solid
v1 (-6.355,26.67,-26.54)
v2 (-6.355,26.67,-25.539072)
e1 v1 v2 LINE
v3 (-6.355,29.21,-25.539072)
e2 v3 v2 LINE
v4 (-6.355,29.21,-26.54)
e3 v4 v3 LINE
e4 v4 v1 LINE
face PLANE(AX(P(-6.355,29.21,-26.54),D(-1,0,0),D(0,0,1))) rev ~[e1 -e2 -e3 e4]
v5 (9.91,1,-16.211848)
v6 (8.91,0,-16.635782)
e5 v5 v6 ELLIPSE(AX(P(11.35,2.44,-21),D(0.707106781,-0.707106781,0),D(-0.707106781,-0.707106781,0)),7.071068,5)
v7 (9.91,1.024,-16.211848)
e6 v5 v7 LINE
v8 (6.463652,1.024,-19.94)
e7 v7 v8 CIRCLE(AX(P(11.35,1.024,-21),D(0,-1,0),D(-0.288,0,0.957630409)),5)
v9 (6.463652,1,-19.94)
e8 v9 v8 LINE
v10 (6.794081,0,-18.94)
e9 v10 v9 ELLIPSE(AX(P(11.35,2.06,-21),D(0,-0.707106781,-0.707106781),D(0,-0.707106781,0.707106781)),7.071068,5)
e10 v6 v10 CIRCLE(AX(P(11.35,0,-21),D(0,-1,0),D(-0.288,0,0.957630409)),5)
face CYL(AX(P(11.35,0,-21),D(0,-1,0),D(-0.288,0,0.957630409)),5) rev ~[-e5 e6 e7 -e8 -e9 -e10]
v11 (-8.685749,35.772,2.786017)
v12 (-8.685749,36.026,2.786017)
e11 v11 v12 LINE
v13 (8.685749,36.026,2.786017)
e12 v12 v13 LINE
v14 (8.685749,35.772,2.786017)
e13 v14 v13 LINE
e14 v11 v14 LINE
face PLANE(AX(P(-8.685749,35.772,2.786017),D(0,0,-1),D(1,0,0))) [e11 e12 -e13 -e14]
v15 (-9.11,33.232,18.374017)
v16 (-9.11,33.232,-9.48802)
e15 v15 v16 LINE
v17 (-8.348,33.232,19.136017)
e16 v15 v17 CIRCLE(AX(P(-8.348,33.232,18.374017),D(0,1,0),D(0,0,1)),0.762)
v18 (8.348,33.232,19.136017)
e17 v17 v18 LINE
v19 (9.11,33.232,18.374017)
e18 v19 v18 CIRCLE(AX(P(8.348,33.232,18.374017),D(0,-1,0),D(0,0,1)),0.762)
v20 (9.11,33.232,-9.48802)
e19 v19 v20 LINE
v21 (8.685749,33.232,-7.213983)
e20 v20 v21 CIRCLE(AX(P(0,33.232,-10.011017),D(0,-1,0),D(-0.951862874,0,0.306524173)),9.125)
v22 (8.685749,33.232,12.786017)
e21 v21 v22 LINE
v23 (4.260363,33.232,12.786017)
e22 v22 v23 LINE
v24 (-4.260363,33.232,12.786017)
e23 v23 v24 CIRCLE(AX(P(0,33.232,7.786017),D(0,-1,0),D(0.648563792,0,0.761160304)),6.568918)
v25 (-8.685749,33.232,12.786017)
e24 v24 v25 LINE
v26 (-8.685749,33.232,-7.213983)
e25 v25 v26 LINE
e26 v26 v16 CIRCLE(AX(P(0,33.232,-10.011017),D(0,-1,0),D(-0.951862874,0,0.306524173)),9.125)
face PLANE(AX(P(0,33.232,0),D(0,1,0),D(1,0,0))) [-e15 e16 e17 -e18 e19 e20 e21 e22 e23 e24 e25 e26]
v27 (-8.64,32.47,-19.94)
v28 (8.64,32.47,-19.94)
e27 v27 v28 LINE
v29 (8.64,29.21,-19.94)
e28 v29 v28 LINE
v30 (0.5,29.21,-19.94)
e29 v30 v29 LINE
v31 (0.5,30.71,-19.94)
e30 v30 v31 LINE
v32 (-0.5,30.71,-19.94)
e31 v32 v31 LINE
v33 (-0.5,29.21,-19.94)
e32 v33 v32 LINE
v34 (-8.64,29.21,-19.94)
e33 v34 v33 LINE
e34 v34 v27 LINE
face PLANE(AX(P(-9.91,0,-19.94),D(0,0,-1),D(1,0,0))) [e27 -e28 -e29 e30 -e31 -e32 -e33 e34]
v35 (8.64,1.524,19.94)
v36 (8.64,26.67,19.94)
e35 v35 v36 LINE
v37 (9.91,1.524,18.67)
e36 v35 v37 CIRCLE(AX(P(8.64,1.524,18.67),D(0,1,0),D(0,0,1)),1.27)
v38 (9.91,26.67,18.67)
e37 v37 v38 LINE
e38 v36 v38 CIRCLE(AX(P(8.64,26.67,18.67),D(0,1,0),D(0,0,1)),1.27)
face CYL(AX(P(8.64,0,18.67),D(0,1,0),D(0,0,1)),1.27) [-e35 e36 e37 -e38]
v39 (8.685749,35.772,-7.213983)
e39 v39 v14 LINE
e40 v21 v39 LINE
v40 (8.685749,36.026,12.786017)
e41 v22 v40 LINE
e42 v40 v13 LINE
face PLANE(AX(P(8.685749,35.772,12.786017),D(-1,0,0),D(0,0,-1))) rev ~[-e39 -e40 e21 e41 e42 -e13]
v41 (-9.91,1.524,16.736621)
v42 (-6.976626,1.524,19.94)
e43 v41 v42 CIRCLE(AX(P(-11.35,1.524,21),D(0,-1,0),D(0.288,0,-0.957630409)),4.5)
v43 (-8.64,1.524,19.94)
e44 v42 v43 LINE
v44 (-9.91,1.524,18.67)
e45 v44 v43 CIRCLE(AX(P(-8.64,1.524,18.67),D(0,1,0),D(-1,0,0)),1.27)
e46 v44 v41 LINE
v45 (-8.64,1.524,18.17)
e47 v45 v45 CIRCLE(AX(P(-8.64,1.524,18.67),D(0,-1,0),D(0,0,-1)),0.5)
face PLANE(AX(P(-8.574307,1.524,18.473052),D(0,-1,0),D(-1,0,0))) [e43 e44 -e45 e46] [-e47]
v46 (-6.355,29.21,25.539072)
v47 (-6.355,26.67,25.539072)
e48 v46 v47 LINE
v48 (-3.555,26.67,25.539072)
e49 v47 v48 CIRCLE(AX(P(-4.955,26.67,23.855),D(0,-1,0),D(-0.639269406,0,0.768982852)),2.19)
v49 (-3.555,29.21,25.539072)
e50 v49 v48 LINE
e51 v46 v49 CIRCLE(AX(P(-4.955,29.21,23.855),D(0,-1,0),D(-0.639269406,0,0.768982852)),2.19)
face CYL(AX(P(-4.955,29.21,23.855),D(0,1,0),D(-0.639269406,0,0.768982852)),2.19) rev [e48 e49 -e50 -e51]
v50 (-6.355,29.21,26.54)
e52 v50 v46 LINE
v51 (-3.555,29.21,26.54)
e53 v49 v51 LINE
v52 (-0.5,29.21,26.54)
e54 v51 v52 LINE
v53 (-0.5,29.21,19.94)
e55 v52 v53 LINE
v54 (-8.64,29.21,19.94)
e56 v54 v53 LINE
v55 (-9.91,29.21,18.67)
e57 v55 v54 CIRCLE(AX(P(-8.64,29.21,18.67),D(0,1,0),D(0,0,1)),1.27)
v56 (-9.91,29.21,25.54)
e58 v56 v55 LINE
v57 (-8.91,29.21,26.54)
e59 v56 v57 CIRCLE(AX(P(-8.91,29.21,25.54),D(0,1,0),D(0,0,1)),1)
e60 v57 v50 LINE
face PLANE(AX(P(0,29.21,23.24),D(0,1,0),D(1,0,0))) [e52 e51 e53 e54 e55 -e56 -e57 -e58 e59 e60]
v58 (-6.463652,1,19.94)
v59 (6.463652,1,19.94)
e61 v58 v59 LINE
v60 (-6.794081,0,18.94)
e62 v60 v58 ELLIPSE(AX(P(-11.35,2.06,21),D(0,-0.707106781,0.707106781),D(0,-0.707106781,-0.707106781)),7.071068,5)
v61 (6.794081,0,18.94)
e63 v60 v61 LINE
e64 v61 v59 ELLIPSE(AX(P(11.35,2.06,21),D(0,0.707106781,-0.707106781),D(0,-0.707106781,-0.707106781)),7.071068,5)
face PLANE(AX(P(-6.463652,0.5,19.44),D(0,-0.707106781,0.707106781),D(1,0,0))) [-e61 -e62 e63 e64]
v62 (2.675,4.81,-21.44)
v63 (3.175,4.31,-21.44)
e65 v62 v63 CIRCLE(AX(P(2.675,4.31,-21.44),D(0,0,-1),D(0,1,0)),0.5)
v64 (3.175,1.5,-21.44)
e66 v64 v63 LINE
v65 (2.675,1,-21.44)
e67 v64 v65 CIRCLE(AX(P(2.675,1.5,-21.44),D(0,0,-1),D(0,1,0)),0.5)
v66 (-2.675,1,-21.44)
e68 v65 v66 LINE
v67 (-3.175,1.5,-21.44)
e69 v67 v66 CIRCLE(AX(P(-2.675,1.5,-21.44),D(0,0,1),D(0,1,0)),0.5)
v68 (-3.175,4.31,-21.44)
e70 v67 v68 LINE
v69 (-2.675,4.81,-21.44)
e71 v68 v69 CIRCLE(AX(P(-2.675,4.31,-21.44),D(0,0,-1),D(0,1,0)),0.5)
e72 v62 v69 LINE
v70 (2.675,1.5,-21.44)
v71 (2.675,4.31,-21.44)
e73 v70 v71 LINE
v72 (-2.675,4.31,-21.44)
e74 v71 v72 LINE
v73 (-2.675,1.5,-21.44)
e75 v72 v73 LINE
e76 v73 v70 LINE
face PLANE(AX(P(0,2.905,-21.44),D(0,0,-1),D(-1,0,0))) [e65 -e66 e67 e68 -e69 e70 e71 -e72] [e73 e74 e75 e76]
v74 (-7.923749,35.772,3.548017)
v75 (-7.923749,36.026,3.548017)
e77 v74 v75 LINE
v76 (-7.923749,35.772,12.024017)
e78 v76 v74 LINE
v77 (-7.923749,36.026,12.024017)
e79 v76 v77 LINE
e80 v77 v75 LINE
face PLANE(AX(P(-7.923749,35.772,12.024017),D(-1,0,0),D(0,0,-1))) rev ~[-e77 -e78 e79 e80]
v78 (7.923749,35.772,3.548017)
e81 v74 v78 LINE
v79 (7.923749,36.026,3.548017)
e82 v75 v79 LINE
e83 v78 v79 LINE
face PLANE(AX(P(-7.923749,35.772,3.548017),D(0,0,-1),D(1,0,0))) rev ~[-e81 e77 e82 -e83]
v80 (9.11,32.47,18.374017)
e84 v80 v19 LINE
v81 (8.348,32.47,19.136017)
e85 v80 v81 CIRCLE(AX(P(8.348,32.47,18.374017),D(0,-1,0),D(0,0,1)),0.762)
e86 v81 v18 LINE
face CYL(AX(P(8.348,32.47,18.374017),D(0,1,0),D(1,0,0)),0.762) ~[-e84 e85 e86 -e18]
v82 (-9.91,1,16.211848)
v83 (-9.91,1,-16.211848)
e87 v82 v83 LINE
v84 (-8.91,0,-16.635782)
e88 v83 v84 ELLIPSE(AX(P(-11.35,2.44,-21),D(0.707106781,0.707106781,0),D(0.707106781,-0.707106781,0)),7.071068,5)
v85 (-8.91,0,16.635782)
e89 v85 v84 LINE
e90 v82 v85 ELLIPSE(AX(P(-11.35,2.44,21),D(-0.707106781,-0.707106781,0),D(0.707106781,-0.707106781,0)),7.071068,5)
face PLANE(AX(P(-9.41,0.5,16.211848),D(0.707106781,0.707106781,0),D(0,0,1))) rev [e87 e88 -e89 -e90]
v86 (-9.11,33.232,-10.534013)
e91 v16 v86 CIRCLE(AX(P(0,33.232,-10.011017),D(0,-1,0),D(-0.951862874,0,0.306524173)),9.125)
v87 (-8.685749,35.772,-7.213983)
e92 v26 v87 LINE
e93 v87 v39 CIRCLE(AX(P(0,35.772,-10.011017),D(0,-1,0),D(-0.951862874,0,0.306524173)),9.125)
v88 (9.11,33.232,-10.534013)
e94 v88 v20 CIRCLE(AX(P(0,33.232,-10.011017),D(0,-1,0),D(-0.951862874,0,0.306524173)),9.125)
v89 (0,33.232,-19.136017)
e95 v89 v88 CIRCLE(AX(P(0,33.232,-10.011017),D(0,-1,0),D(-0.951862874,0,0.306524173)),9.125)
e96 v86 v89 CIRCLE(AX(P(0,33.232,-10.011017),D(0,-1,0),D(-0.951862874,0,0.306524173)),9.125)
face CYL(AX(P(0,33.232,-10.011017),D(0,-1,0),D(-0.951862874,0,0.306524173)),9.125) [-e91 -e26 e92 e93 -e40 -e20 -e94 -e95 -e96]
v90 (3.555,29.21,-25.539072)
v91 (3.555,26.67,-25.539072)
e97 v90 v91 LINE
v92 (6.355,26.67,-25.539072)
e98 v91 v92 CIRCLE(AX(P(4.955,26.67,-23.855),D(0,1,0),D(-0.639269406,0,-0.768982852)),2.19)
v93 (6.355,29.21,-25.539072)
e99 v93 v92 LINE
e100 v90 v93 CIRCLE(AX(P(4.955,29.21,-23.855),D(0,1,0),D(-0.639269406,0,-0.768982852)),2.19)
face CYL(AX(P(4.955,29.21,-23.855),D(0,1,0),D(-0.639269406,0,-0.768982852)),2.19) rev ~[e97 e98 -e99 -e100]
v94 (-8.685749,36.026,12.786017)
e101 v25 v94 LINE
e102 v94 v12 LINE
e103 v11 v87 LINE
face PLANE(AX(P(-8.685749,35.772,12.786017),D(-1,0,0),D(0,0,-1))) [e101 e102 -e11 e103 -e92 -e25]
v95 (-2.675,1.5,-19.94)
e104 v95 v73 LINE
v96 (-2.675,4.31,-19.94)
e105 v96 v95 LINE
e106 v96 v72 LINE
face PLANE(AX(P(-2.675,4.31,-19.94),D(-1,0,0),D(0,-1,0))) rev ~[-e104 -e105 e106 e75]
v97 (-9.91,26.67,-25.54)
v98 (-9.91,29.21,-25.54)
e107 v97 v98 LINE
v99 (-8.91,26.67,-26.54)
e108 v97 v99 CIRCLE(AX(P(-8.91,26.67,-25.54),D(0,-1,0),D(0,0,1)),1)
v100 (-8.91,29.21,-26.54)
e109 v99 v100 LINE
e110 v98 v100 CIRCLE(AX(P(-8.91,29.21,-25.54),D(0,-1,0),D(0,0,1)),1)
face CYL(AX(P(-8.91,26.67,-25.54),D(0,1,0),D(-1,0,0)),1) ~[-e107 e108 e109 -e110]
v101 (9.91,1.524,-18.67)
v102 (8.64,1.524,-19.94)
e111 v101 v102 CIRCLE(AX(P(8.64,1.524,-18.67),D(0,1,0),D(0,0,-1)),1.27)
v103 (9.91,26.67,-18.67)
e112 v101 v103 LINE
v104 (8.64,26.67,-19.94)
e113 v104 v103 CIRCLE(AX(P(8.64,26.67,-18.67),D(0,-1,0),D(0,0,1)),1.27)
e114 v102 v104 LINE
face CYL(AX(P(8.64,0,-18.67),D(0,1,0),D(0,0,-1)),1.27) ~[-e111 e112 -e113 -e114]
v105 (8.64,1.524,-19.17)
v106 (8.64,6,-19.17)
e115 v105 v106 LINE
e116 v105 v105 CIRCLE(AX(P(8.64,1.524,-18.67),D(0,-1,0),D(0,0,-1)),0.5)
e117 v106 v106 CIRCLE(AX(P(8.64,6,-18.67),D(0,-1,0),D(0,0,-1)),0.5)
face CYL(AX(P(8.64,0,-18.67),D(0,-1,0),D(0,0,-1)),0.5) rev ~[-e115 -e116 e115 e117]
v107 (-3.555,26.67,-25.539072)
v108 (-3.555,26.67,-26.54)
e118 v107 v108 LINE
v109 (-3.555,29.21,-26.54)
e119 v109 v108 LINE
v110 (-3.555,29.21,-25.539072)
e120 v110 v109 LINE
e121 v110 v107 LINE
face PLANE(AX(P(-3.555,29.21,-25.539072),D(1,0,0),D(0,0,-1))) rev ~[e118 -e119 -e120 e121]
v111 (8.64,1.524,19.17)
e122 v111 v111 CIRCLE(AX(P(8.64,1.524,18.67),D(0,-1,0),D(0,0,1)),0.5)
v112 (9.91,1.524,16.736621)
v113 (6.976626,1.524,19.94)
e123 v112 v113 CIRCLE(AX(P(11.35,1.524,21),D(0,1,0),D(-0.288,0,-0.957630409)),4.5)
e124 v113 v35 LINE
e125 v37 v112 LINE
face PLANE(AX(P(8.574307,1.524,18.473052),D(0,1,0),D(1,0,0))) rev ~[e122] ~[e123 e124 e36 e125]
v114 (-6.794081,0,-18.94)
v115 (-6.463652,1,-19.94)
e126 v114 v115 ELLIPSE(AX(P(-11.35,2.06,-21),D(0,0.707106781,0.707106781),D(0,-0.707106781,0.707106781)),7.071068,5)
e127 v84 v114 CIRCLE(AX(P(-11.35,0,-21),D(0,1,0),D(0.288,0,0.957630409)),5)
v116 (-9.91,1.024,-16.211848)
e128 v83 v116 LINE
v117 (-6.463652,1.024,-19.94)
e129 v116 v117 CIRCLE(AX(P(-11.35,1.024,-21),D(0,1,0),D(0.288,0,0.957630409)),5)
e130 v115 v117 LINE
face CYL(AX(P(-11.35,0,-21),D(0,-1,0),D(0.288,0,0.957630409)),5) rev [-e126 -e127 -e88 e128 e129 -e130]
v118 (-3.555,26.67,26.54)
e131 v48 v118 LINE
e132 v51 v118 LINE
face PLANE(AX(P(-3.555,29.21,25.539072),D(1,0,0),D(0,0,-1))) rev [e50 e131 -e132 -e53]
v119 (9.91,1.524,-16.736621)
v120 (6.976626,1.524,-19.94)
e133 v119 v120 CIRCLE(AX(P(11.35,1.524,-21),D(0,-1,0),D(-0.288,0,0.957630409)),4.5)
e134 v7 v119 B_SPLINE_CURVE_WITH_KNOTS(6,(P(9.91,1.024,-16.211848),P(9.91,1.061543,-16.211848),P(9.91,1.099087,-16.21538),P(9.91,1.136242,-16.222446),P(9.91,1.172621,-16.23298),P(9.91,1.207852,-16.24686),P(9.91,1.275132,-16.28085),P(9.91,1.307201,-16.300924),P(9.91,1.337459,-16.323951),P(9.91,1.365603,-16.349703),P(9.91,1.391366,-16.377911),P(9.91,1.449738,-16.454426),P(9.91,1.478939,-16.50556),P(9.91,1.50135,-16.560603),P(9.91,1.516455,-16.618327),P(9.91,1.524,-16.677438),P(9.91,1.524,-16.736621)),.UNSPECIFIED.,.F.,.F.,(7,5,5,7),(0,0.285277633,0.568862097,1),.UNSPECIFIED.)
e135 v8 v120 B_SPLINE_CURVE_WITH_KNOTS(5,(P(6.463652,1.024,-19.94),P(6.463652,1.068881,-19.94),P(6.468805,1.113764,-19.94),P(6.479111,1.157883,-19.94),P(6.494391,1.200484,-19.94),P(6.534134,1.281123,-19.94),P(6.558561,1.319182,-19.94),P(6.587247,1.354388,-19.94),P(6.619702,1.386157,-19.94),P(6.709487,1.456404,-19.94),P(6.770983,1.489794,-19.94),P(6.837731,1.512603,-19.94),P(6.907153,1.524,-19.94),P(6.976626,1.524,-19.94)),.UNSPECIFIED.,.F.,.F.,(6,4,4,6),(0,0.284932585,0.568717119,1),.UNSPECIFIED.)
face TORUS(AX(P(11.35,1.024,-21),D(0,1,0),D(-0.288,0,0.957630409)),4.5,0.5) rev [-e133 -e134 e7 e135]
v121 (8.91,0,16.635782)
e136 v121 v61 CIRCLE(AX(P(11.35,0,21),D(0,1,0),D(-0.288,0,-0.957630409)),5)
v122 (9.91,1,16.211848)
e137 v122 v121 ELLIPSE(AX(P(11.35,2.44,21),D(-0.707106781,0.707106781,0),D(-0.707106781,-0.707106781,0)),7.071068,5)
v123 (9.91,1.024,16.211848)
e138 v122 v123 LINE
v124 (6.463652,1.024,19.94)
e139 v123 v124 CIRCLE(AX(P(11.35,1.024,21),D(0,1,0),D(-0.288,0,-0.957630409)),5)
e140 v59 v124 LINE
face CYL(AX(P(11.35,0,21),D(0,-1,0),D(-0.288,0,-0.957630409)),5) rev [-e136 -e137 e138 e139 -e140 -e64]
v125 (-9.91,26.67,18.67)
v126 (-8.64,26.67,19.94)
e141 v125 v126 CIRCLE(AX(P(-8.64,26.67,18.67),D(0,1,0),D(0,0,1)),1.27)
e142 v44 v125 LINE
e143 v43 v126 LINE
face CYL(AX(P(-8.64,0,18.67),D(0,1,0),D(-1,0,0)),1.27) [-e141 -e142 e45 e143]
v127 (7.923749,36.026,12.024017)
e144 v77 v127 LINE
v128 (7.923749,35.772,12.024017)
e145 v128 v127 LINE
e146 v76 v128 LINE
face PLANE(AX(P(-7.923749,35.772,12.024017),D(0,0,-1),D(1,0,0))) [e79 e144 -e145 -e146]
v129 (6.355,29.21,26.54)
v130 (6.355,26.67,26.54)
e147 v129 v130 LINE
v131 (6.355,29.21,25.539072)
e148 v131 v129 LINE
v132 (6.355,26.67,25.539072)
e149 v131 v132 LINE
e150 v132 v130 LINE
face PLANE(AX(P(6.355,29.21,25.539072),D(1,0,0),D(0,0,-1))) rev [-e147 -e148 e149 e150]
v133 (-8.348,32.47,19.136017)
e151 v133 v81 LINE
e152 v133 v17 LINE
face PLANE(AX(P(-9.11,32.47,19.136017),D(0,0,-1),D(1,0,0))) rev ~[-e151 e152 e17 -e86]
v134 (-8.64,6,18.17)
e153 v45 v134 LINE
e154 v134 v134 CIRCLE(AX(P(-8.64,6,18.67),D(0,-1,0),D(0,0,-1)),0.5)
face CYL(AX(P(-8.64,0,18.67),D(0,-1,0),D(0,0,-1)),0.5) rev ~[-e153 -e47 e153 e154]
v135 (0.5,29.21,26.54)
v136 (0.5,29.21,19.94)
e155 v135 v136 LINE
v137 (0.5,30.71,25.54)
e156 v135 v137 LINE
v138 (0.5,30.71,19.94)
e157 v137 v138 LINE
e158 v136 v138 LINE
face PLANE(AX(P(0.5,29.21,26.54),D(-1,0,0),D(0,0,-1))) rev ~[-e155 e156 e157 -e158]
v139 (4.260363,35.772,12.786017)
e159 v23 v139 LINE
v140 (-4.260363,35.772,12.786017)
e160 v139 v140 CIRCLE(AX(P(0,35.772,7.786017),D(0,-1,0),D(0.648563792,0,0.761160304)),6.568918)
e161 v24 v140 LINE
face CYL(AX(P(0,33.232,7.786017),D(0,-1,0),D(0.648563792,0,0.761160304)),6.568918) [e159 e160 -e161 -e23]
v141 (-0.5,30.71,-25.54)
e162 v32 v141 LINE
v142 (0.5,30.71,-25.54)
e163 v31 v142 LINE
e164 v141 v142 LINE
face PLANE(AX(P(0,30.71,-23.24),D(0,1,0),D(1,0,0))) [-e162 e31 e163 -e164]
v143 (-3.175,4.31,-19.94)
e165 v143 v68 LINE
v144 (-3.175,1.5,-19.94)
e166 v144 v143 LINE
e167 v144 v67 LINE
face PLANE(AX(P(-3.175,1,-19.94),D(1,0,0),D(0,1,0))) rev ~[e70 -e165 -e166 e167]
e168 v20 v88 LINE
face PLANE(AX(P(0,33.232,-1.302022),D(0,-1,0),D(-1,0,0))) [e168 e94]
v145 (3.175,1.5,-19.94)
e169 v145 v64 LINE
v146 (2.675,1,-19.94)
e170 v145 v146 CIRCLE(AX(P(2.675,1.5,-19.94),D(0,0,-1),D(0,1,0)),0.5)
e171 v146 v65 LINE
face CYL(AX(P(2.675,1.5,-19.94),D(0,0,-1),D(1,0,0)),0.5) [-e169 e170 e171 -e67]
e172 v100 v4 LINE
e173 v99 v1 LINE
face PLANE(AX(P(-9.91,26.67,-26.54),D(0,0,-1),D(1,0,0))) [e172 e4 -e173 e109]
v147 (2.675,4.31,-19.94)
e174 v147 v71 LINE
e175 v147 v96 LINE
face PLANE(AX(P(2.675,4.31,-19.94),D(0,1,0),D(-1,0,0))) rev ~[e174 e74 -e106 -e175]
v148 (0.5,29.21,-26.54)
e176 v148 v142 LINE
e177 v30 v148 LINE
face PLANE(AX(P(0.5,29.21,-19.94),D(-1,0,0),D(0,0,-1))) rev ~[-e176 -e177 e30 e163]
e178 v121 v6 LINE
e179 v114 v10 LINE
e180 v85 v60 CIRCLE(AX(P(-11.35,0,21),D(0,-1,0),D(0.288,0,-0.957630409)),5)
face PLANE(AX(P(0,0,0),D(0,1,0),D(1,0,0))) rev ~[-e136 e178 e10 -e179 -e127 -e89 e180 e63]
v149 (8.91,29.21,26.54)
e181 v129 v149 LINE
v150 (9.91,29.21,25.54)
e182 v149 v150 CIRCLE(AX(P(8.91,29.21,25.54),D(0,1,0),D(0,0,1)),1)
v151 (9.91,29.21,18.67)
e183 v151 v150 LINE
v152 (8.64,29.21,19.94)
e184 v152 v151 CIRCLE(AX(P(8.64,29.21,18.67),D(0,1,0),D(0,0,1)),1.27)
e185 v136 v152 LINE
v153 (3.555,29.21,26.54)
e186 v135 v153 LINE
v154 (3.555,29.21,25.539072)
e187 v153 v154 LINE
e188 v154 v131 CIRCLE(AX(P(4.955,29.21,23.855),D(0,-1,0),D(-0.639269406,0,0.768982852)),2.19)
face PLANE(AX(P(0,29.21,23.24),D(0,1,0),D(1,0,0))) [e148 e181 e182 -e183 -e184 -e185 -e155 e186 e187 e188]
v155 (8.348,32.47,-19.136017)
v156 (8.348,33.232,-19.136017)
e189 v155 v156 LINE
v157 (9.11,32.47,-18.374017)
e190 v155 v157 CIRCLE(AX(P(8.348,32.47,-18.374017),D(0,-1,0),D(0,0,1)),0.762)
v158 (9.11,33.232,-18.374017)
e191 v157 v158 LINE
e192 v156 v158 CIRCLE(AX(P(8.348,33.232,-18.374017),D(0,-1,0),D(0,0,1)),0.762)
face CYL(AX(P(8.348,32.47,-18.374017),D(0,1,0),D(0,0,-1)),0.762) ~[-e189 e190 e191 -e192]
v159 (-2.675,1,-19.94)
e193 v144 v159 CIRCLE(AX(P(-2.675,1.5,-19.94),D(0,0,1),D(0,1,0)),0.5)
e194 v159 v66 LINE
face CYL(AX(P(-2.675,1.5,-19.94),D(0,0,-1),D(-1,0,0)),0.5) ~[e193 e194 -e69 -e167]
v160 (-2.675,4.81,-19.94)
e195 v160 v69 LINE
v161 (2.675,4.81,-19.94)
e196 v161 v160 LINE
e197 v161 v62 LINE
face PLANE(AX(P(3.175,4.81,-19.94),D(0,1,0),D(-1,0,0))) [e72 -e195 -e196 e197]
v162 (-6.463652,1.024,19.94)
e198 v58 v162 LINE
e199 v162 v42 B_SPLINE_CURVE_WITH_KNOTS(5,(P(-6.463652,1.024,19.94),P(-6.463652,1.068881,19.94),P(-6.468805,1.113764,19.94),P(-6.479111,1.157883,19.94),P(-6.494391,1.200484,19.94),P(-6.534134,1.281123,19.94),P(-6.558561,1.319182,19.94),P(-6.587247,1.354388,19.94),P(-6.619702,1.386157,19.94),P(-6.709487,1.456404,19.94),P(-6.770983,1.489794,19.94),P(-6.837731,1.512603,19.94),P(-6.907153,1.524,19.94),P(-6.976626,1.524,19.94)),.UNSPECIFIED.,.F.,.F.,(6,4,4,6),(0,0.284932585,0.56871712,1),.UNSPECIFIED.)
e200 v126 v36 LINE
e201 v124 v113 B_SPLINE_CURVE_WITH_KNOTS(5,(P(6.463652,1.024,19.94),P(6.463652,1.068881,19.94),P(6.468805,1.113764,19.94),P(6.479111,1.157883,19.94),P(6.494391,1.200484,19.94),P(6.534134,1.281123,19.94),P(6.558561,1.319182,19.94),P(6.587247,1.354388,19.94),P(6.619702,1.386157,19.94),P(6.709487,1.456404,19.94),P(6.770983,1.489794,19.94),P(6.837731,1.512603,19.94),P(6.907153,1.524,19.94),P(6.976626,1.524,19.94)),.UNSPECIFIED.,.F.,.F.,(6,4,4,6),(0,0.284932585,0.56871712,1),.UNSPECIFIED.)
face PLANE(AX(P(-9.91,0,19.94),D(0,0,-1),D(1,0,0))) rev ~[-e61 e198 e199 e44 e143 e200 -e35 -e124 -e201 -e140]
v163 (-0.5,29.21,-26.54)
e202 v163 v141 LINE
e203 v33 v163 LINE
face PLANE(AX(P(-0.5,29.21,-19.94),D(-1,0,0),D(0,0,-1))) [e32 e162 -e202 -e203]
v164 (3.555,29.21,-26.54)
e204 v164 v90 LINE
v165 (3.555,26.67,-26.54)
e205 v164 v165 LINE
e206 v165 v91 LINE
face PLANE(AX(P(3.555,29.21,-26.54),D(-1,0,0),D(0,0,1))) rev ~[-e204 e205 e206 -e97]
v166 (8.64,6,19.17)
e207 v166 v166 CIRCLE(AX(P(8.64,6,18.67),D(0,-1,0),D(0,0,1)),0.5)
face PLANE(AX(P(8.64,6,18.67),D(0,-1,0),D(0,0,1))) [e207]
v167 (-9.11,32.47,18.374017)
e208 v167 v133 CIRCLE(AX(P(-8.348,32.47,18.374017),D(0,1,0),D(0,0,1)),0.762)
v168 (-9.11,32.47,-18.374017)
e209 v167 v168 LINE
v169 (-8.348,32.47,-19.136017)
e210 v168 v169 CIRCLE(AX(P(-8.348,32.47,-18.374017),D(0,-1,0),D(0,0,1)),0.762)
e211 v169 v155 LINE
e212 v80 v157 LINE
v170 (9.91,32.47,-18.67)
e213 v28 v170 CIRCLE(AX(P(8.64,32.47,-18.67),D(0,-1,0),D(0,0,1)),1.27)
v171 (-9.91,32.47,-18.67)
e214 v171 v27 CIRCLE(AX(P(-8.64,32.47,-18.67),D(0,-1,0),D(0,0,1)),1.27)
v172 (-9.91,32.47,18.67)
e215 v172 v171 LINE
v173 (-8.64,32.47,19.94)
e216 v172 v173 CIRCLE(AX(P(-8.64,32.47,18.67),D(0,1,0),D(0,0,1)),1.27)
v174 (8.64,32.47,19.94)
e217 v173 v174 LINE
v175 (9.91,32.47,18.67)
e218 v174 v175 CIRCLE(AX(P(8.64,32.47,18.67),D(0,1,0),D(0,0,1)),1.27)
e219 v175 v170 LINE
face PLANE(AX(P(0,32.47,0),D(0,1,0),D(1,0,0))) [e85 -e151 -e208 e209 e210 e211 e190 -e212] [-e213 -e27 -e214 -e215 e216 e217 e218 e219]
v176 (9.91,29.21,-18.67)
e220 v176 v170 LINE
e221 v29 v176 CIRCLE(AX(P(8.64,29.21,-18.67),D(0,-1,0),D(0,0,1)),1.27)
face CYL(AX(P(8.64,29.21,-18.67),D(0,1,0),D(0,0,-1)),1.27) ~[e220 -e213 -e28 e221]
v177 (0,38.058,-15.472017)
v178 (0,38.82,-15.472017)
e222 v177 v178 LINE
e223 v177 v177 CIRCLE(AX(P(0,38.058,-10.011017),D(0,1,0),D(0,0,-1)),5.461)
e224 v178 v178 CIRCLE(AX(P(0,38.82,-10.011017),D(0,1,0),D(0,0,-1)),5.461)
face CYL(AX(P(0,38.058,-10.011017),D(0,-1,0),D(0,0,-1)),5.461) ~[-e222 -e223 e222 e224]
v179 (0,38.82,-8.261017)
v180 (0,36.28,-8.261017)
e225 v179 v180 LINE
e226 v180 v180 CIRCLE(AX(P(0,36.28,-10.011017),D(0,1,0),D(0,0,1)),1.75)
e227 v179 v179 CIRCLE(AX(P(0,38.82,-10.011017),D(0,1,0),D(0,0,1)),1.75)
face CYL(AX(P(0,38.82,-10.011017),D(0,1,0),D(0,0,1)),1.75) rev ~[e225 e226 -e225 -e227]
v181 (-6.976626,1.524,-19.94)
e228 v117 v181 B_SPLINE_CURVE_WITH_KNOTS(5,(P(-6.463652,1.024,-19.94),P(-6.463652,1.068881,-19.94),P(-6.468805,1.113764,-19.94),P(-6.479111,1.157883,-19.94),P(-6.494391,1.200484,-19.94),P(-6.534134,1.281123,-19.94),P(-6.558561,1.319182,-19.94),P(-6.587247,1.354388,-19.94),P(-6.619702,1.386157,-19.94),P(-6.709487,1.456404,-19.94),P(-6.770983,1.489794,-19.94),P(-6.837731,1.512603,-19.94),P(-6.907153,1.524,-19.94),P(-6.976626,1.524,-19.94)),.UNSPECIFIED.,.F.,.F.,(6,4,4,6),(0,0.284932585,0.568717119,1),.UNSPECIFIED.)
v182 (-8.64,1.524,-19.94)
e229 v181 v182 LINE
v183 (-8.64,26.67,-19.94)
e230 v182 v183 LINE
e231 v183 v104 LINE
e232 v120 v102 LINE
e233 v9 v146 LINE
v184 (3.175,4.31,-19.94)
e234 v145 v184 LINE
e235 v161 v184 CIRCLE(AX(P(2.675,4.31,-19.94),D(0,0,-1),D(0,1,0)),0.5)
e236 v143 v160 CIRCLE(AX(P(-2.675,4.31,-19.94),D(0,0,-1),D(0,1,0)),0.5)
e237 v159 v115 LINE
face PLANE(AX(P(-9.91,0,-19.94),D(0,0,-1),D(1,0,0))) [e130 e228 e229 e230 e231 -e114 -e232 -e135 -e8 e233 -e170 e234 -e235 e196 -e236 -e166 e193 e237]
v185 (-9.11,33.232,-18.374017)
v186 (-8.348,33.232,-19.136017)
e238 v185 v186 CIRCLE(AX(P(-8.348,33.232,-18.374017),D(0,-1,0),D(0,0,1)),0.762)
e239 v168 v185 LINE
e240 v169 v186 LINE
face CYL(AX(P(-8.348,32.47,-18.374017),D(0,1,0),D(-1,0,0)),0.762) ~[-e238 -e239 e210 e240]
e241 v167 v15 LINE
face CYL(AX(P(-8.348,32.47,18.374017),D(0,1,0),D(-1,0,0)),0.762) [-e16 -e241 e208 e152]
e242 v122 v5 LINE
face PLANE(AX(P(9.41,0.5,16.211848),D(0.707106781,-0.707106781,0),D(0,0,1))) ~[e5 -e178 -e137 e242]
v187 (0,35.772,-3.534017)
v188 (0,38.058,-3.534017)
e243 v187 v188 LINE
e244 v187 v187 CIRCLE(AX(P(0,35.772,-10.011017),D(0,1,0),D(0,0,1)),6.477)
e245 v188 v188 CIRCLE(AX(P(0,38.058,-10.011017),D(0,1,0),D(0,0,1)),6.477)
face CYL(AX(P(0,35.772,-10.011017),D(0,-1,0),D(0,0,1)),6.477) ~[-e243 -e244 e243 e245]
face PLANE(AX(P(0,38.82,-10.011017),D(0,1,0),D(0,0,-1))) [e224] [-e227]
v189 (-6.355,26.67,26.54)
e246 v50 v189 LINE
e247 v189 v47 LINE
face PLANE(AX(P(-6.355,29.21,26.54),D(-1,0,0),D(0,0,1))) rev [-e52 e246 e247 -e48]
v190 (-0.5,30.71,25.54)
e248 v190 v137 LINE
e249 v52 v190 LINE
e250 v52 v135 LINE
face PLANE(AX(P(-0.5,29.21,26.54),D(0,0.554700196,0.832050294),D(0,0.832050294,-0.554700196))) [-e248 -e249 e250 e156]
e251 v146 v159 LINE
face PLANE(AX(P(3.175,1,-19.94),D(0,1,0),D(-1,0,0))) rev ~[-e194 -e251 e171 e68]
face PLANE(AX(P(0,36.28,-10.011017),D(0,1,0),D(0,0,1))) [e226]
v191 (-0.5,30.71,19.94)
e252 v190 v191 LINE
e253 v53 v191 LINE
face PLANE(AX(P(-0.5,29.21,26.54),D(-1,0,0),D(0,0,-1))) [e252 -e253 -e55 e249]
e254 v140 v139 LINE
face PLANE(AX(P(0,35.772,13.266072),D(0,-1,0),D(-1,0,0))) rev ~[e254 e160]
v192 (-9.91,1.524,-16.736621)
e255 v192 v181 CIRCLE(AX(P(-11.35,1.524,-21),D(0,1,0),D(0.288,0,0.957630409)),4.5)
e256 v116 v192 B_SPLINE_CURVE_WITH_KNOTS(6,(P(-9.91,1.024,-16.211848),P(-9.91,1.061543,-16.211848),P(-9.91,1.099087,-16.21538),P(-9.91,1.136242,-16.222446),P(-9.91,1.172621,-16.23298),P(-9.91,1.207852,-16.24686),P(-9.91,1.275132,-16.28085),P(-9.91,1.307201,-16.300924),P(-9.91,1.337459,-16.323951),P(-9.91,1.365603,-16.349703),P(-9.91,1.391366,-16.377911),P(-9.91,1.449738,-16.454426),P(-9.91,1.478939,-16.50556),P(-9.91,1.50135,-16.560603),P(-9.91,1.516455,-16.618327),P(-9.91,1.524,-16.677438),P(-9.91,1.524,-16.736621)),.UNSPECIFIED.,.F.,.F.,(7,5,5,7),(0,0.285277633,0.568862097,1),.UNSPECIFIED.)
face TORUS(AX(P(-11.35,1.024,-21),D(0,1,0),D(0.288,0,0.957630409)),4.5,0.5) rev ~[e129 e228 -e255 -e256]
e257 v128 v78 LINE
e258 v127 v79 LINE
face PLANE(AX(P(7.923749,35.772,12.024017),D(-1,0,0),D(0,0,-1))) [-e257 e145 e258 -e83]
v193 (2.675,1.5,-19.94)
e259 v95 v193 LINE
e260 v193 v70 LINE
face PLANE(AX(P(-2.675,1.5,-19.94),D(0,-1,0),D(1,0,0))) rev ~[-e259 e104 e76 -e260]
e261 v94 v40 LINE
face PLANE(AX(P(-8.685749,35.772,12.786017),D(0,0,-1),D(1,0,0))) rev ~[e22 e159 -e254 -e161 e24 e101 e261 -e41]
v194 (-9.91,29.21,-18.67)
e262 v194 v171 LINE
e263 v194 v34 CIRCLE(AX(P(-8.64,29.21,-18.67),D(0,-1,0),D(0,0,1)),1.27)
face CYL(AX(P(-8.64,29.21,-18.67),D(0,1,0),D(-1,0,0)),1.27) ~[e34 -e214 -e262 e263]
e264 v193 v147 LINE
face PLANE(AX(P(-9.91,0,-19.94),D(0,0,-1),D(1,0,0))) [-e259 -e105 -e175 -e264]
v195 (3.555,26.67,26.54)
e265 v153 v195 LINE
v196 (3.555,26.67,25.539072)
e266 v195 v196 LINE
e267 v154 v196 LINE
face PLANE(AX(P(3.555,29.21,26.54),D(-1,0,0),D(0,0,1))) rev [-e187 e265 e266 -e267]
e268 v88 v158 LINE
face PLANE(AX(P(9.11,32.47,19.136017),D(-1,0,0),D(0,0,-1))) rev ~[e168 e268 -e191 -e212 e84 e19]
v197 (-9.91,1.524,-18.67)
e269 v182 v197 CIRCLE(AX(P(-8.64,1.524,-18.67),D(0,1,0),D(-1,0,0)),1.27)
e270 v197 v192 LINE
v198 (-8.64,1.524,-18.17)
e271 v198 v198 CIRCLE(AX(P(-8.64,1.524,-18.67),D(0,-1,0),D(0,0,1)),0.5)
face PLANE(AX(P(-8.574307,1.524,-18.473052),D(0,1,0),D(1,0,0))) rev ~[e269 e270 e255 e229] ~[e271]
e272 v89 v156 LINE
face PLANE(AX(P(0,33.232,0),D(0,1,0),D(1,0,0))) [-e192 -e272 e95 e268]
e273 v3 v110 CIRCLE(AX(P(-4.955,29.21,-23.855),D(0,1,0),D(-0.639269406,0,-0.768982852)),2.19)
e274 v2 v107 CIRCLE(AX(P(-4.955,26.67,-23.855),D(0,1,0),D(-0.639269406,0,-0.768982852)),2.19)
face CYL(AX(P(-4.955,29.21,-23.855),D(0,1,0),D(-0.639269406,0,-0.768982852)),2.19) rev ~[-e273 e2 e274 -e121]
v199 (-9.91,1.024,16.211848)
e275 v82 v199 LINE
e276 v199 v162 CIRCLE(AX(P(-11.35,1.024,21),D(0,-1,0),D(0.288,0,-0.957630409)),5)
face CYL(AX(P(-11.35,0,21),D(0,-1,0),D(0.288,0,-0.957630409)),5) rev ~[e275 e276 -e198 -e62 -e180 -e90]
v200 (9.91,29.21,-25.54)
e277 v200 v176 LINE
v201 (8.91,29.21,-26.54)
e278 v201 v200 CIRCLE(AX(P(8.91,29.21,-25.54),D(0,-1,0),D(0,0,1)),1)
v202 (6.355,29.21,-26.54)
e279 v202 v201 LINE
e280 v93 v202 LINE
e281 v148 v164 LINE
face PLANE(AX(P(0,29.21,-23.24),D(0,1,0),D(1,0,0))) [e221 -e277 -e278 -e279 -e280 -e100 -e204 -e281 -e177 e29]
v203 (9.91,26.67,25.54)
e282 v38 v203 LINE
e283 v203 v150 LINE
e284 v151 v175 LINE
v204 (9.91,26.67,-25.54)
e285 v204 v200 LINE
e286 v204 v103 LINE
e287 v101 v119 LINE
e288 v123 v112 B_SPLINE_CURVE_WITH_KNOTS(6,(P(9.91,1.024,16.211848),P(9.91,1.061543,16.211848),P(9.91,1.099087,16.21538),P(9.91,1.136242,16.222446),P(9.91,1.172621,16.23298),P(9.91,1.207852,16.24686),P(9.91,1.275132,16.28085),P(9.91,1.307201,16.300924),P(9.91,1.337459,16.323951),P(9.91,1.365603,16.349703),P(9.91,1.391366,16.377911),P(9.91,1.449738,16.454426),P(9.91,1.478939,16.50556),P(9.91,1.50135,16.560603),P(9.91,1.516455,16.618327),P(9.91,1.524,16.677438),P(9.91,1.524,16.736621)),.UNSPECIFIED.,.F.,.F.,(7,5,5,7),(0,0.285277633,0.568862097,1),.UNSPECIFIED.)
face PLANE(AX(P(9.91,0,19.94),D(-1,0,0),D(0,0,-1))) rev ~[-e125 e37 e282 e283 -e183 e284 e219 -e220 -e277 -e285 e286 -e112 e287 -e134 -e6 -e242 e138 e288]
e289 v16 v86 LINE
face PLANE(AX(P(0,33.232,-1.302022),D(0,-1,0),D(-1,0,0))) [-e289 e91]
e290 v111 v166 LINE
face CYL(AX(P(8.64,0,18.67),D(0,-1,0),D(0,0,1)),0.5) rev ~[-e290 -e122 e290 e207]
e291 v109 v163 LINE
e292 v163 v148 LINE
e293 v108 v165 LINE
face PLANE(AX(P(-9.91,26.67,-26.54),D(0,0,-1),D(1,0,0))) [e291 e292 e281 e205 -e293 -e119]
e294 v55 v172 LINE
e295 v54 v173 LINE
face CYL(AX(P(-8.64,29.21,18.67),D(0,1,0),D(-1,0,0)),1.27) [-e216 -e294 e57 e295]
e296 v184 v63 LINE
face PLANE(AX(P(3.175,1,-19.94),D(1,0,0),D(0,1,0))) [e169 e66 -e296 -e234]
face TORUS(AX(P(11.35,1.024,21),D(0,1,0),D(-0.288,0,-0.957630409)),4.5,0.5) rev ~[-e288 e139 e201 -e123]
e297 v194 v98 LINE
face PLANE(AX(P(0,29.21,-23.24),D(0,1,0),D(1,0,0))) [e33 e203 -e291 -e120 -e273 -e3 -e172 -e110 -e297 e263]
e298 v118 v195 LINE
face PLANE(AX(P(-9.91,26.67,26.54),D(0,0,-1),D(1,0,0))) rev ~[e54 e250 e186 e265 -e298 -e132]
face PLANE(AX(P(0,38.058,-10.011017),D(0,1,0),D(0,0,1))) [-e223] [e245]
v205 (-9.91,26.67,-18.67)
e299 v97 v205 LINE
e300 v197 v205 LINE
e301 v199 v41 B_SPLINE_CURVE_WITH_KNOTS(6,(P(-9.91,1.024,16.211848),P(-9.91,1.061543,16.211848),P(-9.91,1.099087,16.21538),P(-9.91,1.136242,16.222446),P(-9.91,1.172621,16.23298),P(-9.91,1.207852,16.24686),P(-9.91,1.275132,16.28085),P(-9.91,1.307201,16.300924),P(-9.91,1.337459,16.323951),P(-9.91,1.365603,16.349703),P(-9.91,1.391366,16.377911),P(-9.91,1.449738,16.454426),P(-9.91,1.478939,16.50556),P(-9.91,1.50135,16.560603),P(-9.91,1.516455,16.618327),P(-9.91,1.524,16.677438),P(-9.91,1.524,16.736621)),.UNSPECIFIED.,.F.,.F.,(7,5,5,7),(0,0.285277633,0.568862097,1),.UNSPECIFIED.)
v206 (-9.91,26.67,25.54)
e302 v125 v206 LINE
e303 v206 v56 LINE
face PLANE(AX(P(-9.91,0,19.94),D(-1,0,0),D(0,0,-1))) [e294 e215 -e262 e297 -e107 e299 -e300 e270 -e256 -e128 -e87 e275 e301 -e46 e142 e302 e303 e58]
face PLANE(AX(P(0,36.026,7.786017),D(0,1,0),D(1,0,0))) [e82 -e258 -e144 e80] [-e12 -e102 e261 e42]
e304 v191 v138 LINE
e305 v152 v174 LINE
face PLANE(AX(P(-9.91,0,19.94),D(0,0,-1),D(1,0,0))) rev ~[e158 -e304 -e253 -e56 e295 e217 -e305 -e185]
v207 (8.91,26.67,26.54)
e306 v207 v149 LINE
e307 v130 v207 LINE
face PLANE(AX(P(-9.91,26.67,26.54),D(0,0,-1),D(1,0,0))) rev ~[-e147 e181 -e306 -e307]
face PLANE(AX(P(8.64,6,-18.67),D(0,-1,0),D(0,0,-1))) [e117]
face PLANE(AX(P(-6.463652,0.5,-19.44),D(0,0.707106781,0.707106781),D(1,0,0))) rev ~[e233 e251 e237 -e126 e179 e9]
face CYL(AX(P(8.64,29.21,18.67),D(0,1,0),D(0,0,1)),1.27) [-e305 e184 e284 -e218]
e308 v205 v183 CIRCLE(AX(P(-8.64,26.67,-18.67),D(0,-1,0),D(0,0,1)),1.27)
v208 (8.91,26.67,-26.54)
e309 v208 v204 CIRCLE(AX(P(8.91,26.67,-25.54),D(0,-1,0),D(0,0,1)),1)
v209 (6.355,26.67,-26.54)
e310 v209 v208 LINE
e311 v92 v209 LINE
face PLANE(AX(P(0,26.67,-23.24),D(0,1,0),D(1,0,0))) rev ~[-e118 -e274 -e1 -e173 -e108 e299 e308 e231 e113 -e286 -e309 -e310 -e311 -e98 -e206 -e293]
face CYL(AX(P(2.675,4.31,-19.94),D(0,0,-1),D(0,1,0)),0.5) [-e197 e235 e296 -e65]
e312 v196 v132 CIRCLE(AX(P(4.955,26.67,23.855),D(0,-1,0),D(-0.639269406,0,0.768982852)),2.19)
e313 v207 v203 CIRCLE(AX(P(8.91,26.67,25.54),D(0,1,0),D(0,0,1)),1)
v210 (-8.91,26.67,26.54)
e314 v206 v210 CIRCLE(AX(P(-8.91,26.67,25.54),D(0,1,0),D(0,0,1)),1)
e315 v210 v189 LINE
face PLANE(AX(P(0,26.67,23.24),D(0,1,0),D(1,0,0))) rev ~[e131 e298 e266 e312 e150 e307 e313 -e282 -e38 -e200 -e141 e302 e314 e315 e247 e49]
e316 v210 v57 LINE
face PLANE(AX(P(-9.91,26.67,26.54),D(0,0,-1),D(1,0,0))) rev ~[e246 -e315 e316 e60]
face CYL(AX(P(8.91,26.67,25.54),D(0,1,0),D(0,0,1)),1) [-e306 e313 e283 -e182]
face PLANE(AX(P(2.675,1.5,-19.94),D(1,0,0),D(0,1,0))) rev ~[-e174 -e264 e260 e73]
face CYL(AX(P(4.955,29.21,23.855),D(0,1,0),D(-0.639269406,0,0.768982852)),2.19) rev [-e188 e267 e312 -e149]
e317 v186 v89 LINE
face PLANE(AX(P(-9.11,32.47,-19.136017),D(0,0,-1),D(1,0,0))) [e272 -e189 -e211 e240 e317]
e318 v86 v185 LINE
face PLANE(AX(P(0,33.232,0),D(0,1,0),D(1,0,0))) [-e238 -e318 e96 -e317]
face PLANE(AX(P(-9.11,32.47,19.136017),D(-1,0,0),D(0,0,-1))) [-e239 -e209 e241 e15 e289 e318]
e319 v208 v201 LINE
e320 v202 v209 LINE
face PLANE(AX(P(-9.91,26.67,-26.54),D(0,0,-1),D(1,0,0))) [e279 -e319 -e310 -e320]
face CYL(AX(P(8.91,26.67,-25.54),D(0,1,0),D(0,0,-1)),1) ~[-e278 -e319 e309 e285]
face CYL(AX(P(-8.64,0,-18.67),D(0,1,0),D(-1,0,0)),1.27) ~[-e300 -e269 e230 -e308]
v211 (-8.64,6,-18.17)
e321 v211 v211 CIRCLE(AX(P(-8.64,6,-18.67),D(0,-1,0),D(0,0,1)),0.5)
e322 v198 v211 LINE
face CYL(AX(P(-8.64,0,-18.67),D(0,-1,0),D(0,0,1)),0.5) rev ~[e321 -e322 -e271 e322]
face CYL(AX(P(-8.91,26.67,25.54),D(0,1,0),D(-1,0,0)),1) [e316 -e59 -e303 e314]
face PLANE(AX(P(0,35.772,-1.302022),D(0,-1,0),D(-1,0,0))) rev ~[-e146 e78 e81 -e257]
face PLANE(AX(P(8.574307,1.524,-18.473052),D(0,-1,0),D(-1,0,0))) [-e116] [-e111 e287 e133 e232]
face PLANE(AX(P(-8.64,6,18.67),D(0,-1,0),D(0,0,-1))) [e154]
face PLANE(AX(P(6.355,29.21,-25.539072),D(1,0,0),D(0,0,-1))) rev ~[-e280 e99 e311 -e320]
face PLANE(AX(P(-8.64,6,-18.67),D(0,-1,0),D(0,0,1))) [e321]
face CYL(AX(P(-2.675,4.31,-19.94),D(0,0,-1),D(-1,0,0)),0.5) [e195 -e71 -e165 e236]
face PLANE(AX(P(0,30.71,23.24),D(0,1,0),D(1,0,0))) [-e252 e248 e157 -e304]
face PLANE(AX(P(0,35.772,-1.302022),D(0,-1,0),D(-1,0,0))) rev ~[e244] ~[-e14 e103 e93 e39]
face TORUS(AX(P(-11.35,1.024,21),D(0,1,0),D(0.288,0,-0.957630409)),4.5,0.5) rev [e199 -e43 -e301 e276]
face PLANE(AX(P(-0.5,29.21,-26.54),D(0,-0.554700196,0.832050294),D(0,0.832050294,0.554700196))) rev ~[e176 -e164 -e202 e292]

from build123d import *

# Parameters (mm, degrees)
SKETCH1_W            = 19.82
SKETCH1_H            = 39.88
BOSS_EXTRUDE1_DEPTH  = 36.02
SKETCH2_W            = 19.82
SKETCH2_H            = 6.6
BOSS_EXTRUDE2_DEPTH  = 2.54
CUT_EXTRUDE1_DEPTH   = 2.54
SKETCH4_W            = 1
SKETCH4_H            = 6.6
BOSS_EXTRUDE3_DEPTH  = 1.5
CUT_EXTRUDE2_DEPTH   = 1
SKETCH6_W            = 19.82
SKETCH6_H            = 39.88
CUT_EXTRUDE3_DEPTH   = 3.55
SKETCH7_W            = 18.22
SKETCH7_H            = 38.272033082
BOSS_EXTRUDE4_DEPTH  = 0.762
FILLET1_R            = 1.27
FILLET2_R            = 0.762
BOSS_EXTRUDE5_DEPTH  = 2.54
SKETCH10_R           = 6.477
BOSS_EXTRUDE6_DEPTH  = 2.286
SKETCH11_R           = 5.461
BOSS_EXTRUDE7_DEPTH  = 0.762
SKETCH12_R           = 1.75
CUT_EXTRUDE4_DEPTH   = 2.54
SKETCH13_W           = 17.371497452
SKETCH13_H           = 10
SKETCH13_W_2         = 15.847497452
SKETCH13_H_2         = 8.476
BOSS_EXTRUDE8_DEPTH  = 0.254
BOSS_EXTRUDE9_DEPTH  = 2.54
CUT_EXTRUDE5_DEPTH   = 1.524
SKETCH16_R           = 0.5
CUT_EXTRUDE6_DEPTH   = 6
CHAMFER1_SIZE        = 1
FILLET3_R            = 0.5
SKETCH17_W           = 6.35
SKETCH17_H           = 3.81
BOSS_EXTRUDE10_DEPTH = 1.5
FILLET5_R            = 0.5
FILLET6_R            = 1


with BuildPart() as part:
    # Sketch1 → Boss-Extrude1 (new body)
    with BuildSketch(Plane(origin=(0, 0, 0), x_dir=(1, 0, 0), z_dir=(0, 1, 0))):
        Rectangle(SKETCH1_W, SKETCH1_H)
    extrude(amount=BOSS_EXTRUDE1_DEPTH)

    # Sketch2 → Boss-Extrude2 (add)
    with BuildSketch(Plane(origin=(0, 26.67, 0), x_dir=(1, 0, 0), z_dir=(0, 1, 0))):
        with Locations((0, 23.24)):
            Rectangle(SKETCH2_W, SKETCH2_H)
        with Locations((0, -23.24)):
            Rectangle(SKETCH2_W, SKETCH2_H)
    extrude(amount=BOSS_EXTRUDE2_DEPTH)

    # Sketch3 → Cut-Extrude1 (cut)
    with BuildSketch(Plane(origin=(0, 29.21, 0), x_dir=(1, 0, 0), z_dir=(0, 1, 0))):
        with BuildLine():
            Line((6.355, 26.54), (3.555, 26.54))
            Line((3.555, 26.54), (3.555, 25.539072445))
            ThreePointArc((3.555, 25.539072445), (4.955, 21.665), (6.355, 25.539072445))
            Line((6.355, 25.539072445), (6.355, 26.54))
        make_face()
        with BuildLine():
            Line((-6.355, 26.54), (-6.355, 25.539072445))
            ThreePointArc((-6.355, 25.539072445), (-4.955, 21.665), (-3.555, 25.539072445))
            Line((-3.555, 25.539072445), (-3.555, 26.54))
            Line((-3.555, 26.54), (-6.355, 26.54))
        make_face()
    cut_extrude1 = extrude(amount=-CUT_EXTRUDE1_DEPTH, mode=Mode.SUBTRACT)

    # Mirror1: Cut-Extrude1 across plane
    add(cut_extrude1.mirror(Plane.XY), mode=Mode.SUBTRACT)

    # Sketch4 → Boss-Extrude3 (add)
    with BuildSketch(Plane(origin=(0, 29.21, 0), x_dir=(1, 0, 0), z_dir=(0, 1, 0))):
        with Locations((0, 23.24)):
            Rectangle(SKETCH4_W, SKETCH4_H)
        with Locations((0, -23.24)):
            Rectangle(SKETCH4_W, SKETCH4_H)
    extrude(amount=BOSS_EXTRUDE3_DEPTH)

    # Sketch5 → Cut-Extrude2 (cut)
    with BuildSketch(Plane.ZY.offset(0.5)):
        Polygon((-26.54, 29.21), (-25.54, 30.71), (-26.54, 30.71), align=None)
        Polygon((26.54, 30.71), (26.54, 29.21), (25.54, 30.71), align=None)
    extrude(amount=-CUT_EXTRUDE2_DEPTH, mode=Mode.SUBTRACT)

    # Sketch6 → Cut-Extrude3 (cut)
    with BuildSketch(Plane(origin=(0, 36.02, 0), x_dir=(1, 0, 0), z_dir=(0, 1, 0))):
        Rectangle(SKETCH6_W, SKETCH6_H)
    extrude(amount=-CUT_EXTRUDE3_DEPTH, mode=Mode.SUBTRACT)

    # Sketch7 → Boss-Extrude4 (add)
    with BuildSketch(Plane(origin=(0, 32.47, 0), x_dir=(1, 0, 0), z_dir=(0, 1, 0))):
        Rectangle(SKETCH7_W, SKETCH7_H)
    extrude(amount=BOSS_EXTRUDE4_DEPTH)

    # Fillet1
    fillet1_edges = [part.edges().sort_by_distance(p)[0] for p in [
        (-9.91, 13.335, -19.94),
        (-9.91, 30.84, -19.94),
        (9.91, 13.335, -19.94),
        (9.91, 30.84, -19.94),
        (9.91, 13.335, 19.94),
        (9.91, 30.84, 19.94),
        (-9.91, 13.335, 19.94),
        (-9.91, 30.84, 19.94),
    ]]
    fillet(fillet1_edges, radius=FILLET1_R)

    # Fillet2
    fillet2_edges = [part.edges().sort_by_distance(p)[0] for p in [
        (9.11, 32.851, -19.136016541),
        (-9.11, 32.851, -19.136016541),
        (-9.11, 32.851, 19.136016541),
        (9.11, 32.851, 19.136016541),
    ]]
    fillet(fillet2_edges, radius=FILLET2_R)

    # Sketch8 → Boss-Extrude5 (add)
    with BuildSketch(Plane(origin=(0, 33.232, 0), x_dir=(1, 0, 0), z_dir=(0, 1, 0))):
        with BuildLine():
            Line((8.685748726, 7.213983459), (8.685748726, -12.786016541))
            Line((8.685748726, -12.786016541), (-8.685748726, -12.786016541))
            Line((-8.685748726, -12.786016541), (-8.685748726, 7.213983459))
            ThreePointArc((-8.685748726, 7.213983459), (0, 19.136016541), (8.685748726, 7.213983459))
        make_face()
    extrude(amount=BOSS_EXTRUDE5_DEPTH)

    # Sketch10 → Boss-Extrude6 (add)
    with BuildSketch(Plane(origin=(0, 35.772, 0), x_dir=(1, 0, 0), z_dir=(0, 1, 0))):
        with Locations(Location((0, 10.011016541, 0), (0, 0, 270))):
            Circle(SKETCH10_R)
    extrude(amount=BOSS_EXTRUDE6_DEPTH)

    # Sketch11 → Boss-Extrude7 (add)
    with BuildSketch(Plane(origin=(0, 38.058, 0), x_dir=(1, 0, 0), z_dir=(0, 1, 0))):
        with Locations(Location((0, 10.011016541, 0), (0, 0, 90))):
            Circle(SKETCH11_R)
    extrude(amount=BOSS_EXTRUDE7_DEPTH)

    # Sketch12 → Cut-Extrude4 (cut)
    with BuildSketch(Plane(origin=(0, 38.82, 0), x_dir=(1, 0, 0), z_dir=(0, 1, 0))):
        with Locations(Location((0, 10.011016541, 0), (0, 0, 270))):
            Circle(SKETCH12_R)
    extrude(amount=-CUT_EXTRUDE4_DEPTH, mode=Mode.SUBTRACT)

    # Sketch13 → Boss-Extrude8 (add)
    with BuildSketch(Plane(origin=(0, 35.772, 0), x_dir=(1, 0, 0), z_dir=(0, 1, 0))):
        with Locations((0, -7.786016541)):
            Rectangle(SKETCH13_W, SKETCH13_H)
        with Locations((0, -7.786016541)):
            Rectangle(SKETCH13_W_2, SKETCH13_H_2, mode=Mode.SUBTRACT)
    extrude(amount=BOSS_EXTRUDE8_DEPTH)

    # Sketch14 → Boss-Extrude9 (add)
    with BuildSketch(Plane(origin=(0, 33.232, 0), x_dir=(1, 0, 0), z_dir=(0, 1, 0))):
        with BuildLine():
            Line((-4.260362688, -12.786016541), (4.260362688, -12.786016541))
            ThreePointArc((4.260362688, -12.786016541), (0, -14.354935039), (-4.260362688, -12.786016541))
        make_face()
    extrude(amount=BOSS_EXTRUDE9_DEPTH)

    # Sketch15 → Cut-Extrude5 (cut)
    with BuildSketch(Plane(origin=(0, 0, 0), x_dir=(-1, 0, 0), z_dir=(0, -1, 0))):
        with BuildLine():
            Line((6.46365167, -19.94), (9.91, -19.94))
            Line((9.91, -19.94), (9.91, -16.211847956))
            ThreePointArc((9.91, -16.211847956), (7.678426739, -17.605953774), (6.46365167, -19.94))
        make_face()
        with BuildLine():
            Line((-9.91, -19.94), (-9.91, -16.211847956))
            ThreePointArc((-9.91, -16.211847956), (-7.678426739, -17.605953774), (-6.46365167, -19.94))
            Line((-6.46365167, -19.94), (-9.91, -19.94))
        make_face()
        with BuildLine():
            Line((-6.46365167, 19.94), (-9.91, 19.94))
            Line((-9.91, 19.94), (-9.91, 16.211847956))
            ThreePointArc((-9.91, 16.211847956), (-7.678426739, 17.605953774), (-6.46365167, 19.94))
        make_face()
        with BuildLine():
            Line((9.91, 19.94), (9.91, 16.211847956))
            ThreePointArc((9.91, 16.211847956), (7.678426739, 17.605953774), (6.46365167, 19.94))
            Line((6.46365167, 19.94), (9.91, 19.94))
        make_face()
    extrude(amount=-CUT_EXTRUDE5_DEPTH, mode=Mode.SUBTRACT)

    # Sketch16 → Cut-Extrude6 (cut)
    with BuildSketch(Plane(origin=(0, 0, 0), x_dir=(-1, 0, 0), z_dir=(0, -1, 0))):
        with Locations(Location((8.64, -18.67, 0), (0, 0, 90))):
            Circle(SKETCH16_R)
        with Locations(Location((-8.64, -18.67, 0), (0, 0, 270))):
            Circle(SKETCH16_R)
        with Locations(Location((-8.64, 18.67, 0), (0, 0, 90))):
            Circle(SKETCH16_R)
        with Locations(Location((8.64, 18.67, 0), (0, 0, 270))):
            Circle(SKETCH16_R)
    extrude(amount=-CUT_EXTRUDE6_DEPTH, mode=Mode.SUBTRACT)

    # Chamfer1
    chamfer1_edges = [part.edges().sort_by_distance(p)[0] for p in [
        (0, 0, 19.94),
        (9.91, 0, 0),
        (0, 0, -19.94),
        (-9.91, 0, 0),
    ]]
    chamfer(chamfer1_edges, length=CHAMFER1_SIZE)

    # Fillet3
    fillet3_edges = [part.edges().sort_by_distance(p)[0] for p in [
        (-7.678426739, 1.524, 17.605953774),
        (7.678426739, 1.524, 17.605953774),
        (7.678426739, 1.524, -17.605953774),
        (-7.678426739, 1.524, -17.605953774),
    ]]
    fillet(fillet3_edges, radius=FILLET3_R)

    # Sketch17 → Boss-Extrude10 (add)
    with BuildSketch(Plane(origin=(0, 0, -19.94), x_dir=(-1, 0, 0), z_dir=(0, 0, -1))):
        with Locations((0, 2.905)):
            Rectangle(SKETCH17_W, SKETCH17_H)
        Polygon((0, 1.5), (-2.675, 1.5), (-2.675, 4.31), (0, 4.31), (2.675, 4.31), (2.675, 1.5), align=None, mode=Mode.SUBTRACT)
    extrude(amount=BOSS_EXTRUDE10_DEPTH)

    # Fillet5
    fillet5_edges = [part.edges().sort_by_distance(p)[0] for p in [
        (3.175, 1, -20.69),
        (-3.175, 1, -20.69),
        (-3.175, 4.81, -20.69),
        (3.175, 4.81, -20.69),
    ]]
    fillet(fillet5_edges, radius=FILLET5_R)

    # Fillet6
    fillet6_edges = [part.edges().sort_by_distance(p)[0] for p in [
        (9.91, 27.94, 26.54),
        (9.91, 27.94, -26.54),
        (-9.91, 27.94, 26.54),
        (-9.91, 27.94, -26.54),
    ]]
    fillet(fillet6_edges, radius=FILLET6_R)


solid = part.part
